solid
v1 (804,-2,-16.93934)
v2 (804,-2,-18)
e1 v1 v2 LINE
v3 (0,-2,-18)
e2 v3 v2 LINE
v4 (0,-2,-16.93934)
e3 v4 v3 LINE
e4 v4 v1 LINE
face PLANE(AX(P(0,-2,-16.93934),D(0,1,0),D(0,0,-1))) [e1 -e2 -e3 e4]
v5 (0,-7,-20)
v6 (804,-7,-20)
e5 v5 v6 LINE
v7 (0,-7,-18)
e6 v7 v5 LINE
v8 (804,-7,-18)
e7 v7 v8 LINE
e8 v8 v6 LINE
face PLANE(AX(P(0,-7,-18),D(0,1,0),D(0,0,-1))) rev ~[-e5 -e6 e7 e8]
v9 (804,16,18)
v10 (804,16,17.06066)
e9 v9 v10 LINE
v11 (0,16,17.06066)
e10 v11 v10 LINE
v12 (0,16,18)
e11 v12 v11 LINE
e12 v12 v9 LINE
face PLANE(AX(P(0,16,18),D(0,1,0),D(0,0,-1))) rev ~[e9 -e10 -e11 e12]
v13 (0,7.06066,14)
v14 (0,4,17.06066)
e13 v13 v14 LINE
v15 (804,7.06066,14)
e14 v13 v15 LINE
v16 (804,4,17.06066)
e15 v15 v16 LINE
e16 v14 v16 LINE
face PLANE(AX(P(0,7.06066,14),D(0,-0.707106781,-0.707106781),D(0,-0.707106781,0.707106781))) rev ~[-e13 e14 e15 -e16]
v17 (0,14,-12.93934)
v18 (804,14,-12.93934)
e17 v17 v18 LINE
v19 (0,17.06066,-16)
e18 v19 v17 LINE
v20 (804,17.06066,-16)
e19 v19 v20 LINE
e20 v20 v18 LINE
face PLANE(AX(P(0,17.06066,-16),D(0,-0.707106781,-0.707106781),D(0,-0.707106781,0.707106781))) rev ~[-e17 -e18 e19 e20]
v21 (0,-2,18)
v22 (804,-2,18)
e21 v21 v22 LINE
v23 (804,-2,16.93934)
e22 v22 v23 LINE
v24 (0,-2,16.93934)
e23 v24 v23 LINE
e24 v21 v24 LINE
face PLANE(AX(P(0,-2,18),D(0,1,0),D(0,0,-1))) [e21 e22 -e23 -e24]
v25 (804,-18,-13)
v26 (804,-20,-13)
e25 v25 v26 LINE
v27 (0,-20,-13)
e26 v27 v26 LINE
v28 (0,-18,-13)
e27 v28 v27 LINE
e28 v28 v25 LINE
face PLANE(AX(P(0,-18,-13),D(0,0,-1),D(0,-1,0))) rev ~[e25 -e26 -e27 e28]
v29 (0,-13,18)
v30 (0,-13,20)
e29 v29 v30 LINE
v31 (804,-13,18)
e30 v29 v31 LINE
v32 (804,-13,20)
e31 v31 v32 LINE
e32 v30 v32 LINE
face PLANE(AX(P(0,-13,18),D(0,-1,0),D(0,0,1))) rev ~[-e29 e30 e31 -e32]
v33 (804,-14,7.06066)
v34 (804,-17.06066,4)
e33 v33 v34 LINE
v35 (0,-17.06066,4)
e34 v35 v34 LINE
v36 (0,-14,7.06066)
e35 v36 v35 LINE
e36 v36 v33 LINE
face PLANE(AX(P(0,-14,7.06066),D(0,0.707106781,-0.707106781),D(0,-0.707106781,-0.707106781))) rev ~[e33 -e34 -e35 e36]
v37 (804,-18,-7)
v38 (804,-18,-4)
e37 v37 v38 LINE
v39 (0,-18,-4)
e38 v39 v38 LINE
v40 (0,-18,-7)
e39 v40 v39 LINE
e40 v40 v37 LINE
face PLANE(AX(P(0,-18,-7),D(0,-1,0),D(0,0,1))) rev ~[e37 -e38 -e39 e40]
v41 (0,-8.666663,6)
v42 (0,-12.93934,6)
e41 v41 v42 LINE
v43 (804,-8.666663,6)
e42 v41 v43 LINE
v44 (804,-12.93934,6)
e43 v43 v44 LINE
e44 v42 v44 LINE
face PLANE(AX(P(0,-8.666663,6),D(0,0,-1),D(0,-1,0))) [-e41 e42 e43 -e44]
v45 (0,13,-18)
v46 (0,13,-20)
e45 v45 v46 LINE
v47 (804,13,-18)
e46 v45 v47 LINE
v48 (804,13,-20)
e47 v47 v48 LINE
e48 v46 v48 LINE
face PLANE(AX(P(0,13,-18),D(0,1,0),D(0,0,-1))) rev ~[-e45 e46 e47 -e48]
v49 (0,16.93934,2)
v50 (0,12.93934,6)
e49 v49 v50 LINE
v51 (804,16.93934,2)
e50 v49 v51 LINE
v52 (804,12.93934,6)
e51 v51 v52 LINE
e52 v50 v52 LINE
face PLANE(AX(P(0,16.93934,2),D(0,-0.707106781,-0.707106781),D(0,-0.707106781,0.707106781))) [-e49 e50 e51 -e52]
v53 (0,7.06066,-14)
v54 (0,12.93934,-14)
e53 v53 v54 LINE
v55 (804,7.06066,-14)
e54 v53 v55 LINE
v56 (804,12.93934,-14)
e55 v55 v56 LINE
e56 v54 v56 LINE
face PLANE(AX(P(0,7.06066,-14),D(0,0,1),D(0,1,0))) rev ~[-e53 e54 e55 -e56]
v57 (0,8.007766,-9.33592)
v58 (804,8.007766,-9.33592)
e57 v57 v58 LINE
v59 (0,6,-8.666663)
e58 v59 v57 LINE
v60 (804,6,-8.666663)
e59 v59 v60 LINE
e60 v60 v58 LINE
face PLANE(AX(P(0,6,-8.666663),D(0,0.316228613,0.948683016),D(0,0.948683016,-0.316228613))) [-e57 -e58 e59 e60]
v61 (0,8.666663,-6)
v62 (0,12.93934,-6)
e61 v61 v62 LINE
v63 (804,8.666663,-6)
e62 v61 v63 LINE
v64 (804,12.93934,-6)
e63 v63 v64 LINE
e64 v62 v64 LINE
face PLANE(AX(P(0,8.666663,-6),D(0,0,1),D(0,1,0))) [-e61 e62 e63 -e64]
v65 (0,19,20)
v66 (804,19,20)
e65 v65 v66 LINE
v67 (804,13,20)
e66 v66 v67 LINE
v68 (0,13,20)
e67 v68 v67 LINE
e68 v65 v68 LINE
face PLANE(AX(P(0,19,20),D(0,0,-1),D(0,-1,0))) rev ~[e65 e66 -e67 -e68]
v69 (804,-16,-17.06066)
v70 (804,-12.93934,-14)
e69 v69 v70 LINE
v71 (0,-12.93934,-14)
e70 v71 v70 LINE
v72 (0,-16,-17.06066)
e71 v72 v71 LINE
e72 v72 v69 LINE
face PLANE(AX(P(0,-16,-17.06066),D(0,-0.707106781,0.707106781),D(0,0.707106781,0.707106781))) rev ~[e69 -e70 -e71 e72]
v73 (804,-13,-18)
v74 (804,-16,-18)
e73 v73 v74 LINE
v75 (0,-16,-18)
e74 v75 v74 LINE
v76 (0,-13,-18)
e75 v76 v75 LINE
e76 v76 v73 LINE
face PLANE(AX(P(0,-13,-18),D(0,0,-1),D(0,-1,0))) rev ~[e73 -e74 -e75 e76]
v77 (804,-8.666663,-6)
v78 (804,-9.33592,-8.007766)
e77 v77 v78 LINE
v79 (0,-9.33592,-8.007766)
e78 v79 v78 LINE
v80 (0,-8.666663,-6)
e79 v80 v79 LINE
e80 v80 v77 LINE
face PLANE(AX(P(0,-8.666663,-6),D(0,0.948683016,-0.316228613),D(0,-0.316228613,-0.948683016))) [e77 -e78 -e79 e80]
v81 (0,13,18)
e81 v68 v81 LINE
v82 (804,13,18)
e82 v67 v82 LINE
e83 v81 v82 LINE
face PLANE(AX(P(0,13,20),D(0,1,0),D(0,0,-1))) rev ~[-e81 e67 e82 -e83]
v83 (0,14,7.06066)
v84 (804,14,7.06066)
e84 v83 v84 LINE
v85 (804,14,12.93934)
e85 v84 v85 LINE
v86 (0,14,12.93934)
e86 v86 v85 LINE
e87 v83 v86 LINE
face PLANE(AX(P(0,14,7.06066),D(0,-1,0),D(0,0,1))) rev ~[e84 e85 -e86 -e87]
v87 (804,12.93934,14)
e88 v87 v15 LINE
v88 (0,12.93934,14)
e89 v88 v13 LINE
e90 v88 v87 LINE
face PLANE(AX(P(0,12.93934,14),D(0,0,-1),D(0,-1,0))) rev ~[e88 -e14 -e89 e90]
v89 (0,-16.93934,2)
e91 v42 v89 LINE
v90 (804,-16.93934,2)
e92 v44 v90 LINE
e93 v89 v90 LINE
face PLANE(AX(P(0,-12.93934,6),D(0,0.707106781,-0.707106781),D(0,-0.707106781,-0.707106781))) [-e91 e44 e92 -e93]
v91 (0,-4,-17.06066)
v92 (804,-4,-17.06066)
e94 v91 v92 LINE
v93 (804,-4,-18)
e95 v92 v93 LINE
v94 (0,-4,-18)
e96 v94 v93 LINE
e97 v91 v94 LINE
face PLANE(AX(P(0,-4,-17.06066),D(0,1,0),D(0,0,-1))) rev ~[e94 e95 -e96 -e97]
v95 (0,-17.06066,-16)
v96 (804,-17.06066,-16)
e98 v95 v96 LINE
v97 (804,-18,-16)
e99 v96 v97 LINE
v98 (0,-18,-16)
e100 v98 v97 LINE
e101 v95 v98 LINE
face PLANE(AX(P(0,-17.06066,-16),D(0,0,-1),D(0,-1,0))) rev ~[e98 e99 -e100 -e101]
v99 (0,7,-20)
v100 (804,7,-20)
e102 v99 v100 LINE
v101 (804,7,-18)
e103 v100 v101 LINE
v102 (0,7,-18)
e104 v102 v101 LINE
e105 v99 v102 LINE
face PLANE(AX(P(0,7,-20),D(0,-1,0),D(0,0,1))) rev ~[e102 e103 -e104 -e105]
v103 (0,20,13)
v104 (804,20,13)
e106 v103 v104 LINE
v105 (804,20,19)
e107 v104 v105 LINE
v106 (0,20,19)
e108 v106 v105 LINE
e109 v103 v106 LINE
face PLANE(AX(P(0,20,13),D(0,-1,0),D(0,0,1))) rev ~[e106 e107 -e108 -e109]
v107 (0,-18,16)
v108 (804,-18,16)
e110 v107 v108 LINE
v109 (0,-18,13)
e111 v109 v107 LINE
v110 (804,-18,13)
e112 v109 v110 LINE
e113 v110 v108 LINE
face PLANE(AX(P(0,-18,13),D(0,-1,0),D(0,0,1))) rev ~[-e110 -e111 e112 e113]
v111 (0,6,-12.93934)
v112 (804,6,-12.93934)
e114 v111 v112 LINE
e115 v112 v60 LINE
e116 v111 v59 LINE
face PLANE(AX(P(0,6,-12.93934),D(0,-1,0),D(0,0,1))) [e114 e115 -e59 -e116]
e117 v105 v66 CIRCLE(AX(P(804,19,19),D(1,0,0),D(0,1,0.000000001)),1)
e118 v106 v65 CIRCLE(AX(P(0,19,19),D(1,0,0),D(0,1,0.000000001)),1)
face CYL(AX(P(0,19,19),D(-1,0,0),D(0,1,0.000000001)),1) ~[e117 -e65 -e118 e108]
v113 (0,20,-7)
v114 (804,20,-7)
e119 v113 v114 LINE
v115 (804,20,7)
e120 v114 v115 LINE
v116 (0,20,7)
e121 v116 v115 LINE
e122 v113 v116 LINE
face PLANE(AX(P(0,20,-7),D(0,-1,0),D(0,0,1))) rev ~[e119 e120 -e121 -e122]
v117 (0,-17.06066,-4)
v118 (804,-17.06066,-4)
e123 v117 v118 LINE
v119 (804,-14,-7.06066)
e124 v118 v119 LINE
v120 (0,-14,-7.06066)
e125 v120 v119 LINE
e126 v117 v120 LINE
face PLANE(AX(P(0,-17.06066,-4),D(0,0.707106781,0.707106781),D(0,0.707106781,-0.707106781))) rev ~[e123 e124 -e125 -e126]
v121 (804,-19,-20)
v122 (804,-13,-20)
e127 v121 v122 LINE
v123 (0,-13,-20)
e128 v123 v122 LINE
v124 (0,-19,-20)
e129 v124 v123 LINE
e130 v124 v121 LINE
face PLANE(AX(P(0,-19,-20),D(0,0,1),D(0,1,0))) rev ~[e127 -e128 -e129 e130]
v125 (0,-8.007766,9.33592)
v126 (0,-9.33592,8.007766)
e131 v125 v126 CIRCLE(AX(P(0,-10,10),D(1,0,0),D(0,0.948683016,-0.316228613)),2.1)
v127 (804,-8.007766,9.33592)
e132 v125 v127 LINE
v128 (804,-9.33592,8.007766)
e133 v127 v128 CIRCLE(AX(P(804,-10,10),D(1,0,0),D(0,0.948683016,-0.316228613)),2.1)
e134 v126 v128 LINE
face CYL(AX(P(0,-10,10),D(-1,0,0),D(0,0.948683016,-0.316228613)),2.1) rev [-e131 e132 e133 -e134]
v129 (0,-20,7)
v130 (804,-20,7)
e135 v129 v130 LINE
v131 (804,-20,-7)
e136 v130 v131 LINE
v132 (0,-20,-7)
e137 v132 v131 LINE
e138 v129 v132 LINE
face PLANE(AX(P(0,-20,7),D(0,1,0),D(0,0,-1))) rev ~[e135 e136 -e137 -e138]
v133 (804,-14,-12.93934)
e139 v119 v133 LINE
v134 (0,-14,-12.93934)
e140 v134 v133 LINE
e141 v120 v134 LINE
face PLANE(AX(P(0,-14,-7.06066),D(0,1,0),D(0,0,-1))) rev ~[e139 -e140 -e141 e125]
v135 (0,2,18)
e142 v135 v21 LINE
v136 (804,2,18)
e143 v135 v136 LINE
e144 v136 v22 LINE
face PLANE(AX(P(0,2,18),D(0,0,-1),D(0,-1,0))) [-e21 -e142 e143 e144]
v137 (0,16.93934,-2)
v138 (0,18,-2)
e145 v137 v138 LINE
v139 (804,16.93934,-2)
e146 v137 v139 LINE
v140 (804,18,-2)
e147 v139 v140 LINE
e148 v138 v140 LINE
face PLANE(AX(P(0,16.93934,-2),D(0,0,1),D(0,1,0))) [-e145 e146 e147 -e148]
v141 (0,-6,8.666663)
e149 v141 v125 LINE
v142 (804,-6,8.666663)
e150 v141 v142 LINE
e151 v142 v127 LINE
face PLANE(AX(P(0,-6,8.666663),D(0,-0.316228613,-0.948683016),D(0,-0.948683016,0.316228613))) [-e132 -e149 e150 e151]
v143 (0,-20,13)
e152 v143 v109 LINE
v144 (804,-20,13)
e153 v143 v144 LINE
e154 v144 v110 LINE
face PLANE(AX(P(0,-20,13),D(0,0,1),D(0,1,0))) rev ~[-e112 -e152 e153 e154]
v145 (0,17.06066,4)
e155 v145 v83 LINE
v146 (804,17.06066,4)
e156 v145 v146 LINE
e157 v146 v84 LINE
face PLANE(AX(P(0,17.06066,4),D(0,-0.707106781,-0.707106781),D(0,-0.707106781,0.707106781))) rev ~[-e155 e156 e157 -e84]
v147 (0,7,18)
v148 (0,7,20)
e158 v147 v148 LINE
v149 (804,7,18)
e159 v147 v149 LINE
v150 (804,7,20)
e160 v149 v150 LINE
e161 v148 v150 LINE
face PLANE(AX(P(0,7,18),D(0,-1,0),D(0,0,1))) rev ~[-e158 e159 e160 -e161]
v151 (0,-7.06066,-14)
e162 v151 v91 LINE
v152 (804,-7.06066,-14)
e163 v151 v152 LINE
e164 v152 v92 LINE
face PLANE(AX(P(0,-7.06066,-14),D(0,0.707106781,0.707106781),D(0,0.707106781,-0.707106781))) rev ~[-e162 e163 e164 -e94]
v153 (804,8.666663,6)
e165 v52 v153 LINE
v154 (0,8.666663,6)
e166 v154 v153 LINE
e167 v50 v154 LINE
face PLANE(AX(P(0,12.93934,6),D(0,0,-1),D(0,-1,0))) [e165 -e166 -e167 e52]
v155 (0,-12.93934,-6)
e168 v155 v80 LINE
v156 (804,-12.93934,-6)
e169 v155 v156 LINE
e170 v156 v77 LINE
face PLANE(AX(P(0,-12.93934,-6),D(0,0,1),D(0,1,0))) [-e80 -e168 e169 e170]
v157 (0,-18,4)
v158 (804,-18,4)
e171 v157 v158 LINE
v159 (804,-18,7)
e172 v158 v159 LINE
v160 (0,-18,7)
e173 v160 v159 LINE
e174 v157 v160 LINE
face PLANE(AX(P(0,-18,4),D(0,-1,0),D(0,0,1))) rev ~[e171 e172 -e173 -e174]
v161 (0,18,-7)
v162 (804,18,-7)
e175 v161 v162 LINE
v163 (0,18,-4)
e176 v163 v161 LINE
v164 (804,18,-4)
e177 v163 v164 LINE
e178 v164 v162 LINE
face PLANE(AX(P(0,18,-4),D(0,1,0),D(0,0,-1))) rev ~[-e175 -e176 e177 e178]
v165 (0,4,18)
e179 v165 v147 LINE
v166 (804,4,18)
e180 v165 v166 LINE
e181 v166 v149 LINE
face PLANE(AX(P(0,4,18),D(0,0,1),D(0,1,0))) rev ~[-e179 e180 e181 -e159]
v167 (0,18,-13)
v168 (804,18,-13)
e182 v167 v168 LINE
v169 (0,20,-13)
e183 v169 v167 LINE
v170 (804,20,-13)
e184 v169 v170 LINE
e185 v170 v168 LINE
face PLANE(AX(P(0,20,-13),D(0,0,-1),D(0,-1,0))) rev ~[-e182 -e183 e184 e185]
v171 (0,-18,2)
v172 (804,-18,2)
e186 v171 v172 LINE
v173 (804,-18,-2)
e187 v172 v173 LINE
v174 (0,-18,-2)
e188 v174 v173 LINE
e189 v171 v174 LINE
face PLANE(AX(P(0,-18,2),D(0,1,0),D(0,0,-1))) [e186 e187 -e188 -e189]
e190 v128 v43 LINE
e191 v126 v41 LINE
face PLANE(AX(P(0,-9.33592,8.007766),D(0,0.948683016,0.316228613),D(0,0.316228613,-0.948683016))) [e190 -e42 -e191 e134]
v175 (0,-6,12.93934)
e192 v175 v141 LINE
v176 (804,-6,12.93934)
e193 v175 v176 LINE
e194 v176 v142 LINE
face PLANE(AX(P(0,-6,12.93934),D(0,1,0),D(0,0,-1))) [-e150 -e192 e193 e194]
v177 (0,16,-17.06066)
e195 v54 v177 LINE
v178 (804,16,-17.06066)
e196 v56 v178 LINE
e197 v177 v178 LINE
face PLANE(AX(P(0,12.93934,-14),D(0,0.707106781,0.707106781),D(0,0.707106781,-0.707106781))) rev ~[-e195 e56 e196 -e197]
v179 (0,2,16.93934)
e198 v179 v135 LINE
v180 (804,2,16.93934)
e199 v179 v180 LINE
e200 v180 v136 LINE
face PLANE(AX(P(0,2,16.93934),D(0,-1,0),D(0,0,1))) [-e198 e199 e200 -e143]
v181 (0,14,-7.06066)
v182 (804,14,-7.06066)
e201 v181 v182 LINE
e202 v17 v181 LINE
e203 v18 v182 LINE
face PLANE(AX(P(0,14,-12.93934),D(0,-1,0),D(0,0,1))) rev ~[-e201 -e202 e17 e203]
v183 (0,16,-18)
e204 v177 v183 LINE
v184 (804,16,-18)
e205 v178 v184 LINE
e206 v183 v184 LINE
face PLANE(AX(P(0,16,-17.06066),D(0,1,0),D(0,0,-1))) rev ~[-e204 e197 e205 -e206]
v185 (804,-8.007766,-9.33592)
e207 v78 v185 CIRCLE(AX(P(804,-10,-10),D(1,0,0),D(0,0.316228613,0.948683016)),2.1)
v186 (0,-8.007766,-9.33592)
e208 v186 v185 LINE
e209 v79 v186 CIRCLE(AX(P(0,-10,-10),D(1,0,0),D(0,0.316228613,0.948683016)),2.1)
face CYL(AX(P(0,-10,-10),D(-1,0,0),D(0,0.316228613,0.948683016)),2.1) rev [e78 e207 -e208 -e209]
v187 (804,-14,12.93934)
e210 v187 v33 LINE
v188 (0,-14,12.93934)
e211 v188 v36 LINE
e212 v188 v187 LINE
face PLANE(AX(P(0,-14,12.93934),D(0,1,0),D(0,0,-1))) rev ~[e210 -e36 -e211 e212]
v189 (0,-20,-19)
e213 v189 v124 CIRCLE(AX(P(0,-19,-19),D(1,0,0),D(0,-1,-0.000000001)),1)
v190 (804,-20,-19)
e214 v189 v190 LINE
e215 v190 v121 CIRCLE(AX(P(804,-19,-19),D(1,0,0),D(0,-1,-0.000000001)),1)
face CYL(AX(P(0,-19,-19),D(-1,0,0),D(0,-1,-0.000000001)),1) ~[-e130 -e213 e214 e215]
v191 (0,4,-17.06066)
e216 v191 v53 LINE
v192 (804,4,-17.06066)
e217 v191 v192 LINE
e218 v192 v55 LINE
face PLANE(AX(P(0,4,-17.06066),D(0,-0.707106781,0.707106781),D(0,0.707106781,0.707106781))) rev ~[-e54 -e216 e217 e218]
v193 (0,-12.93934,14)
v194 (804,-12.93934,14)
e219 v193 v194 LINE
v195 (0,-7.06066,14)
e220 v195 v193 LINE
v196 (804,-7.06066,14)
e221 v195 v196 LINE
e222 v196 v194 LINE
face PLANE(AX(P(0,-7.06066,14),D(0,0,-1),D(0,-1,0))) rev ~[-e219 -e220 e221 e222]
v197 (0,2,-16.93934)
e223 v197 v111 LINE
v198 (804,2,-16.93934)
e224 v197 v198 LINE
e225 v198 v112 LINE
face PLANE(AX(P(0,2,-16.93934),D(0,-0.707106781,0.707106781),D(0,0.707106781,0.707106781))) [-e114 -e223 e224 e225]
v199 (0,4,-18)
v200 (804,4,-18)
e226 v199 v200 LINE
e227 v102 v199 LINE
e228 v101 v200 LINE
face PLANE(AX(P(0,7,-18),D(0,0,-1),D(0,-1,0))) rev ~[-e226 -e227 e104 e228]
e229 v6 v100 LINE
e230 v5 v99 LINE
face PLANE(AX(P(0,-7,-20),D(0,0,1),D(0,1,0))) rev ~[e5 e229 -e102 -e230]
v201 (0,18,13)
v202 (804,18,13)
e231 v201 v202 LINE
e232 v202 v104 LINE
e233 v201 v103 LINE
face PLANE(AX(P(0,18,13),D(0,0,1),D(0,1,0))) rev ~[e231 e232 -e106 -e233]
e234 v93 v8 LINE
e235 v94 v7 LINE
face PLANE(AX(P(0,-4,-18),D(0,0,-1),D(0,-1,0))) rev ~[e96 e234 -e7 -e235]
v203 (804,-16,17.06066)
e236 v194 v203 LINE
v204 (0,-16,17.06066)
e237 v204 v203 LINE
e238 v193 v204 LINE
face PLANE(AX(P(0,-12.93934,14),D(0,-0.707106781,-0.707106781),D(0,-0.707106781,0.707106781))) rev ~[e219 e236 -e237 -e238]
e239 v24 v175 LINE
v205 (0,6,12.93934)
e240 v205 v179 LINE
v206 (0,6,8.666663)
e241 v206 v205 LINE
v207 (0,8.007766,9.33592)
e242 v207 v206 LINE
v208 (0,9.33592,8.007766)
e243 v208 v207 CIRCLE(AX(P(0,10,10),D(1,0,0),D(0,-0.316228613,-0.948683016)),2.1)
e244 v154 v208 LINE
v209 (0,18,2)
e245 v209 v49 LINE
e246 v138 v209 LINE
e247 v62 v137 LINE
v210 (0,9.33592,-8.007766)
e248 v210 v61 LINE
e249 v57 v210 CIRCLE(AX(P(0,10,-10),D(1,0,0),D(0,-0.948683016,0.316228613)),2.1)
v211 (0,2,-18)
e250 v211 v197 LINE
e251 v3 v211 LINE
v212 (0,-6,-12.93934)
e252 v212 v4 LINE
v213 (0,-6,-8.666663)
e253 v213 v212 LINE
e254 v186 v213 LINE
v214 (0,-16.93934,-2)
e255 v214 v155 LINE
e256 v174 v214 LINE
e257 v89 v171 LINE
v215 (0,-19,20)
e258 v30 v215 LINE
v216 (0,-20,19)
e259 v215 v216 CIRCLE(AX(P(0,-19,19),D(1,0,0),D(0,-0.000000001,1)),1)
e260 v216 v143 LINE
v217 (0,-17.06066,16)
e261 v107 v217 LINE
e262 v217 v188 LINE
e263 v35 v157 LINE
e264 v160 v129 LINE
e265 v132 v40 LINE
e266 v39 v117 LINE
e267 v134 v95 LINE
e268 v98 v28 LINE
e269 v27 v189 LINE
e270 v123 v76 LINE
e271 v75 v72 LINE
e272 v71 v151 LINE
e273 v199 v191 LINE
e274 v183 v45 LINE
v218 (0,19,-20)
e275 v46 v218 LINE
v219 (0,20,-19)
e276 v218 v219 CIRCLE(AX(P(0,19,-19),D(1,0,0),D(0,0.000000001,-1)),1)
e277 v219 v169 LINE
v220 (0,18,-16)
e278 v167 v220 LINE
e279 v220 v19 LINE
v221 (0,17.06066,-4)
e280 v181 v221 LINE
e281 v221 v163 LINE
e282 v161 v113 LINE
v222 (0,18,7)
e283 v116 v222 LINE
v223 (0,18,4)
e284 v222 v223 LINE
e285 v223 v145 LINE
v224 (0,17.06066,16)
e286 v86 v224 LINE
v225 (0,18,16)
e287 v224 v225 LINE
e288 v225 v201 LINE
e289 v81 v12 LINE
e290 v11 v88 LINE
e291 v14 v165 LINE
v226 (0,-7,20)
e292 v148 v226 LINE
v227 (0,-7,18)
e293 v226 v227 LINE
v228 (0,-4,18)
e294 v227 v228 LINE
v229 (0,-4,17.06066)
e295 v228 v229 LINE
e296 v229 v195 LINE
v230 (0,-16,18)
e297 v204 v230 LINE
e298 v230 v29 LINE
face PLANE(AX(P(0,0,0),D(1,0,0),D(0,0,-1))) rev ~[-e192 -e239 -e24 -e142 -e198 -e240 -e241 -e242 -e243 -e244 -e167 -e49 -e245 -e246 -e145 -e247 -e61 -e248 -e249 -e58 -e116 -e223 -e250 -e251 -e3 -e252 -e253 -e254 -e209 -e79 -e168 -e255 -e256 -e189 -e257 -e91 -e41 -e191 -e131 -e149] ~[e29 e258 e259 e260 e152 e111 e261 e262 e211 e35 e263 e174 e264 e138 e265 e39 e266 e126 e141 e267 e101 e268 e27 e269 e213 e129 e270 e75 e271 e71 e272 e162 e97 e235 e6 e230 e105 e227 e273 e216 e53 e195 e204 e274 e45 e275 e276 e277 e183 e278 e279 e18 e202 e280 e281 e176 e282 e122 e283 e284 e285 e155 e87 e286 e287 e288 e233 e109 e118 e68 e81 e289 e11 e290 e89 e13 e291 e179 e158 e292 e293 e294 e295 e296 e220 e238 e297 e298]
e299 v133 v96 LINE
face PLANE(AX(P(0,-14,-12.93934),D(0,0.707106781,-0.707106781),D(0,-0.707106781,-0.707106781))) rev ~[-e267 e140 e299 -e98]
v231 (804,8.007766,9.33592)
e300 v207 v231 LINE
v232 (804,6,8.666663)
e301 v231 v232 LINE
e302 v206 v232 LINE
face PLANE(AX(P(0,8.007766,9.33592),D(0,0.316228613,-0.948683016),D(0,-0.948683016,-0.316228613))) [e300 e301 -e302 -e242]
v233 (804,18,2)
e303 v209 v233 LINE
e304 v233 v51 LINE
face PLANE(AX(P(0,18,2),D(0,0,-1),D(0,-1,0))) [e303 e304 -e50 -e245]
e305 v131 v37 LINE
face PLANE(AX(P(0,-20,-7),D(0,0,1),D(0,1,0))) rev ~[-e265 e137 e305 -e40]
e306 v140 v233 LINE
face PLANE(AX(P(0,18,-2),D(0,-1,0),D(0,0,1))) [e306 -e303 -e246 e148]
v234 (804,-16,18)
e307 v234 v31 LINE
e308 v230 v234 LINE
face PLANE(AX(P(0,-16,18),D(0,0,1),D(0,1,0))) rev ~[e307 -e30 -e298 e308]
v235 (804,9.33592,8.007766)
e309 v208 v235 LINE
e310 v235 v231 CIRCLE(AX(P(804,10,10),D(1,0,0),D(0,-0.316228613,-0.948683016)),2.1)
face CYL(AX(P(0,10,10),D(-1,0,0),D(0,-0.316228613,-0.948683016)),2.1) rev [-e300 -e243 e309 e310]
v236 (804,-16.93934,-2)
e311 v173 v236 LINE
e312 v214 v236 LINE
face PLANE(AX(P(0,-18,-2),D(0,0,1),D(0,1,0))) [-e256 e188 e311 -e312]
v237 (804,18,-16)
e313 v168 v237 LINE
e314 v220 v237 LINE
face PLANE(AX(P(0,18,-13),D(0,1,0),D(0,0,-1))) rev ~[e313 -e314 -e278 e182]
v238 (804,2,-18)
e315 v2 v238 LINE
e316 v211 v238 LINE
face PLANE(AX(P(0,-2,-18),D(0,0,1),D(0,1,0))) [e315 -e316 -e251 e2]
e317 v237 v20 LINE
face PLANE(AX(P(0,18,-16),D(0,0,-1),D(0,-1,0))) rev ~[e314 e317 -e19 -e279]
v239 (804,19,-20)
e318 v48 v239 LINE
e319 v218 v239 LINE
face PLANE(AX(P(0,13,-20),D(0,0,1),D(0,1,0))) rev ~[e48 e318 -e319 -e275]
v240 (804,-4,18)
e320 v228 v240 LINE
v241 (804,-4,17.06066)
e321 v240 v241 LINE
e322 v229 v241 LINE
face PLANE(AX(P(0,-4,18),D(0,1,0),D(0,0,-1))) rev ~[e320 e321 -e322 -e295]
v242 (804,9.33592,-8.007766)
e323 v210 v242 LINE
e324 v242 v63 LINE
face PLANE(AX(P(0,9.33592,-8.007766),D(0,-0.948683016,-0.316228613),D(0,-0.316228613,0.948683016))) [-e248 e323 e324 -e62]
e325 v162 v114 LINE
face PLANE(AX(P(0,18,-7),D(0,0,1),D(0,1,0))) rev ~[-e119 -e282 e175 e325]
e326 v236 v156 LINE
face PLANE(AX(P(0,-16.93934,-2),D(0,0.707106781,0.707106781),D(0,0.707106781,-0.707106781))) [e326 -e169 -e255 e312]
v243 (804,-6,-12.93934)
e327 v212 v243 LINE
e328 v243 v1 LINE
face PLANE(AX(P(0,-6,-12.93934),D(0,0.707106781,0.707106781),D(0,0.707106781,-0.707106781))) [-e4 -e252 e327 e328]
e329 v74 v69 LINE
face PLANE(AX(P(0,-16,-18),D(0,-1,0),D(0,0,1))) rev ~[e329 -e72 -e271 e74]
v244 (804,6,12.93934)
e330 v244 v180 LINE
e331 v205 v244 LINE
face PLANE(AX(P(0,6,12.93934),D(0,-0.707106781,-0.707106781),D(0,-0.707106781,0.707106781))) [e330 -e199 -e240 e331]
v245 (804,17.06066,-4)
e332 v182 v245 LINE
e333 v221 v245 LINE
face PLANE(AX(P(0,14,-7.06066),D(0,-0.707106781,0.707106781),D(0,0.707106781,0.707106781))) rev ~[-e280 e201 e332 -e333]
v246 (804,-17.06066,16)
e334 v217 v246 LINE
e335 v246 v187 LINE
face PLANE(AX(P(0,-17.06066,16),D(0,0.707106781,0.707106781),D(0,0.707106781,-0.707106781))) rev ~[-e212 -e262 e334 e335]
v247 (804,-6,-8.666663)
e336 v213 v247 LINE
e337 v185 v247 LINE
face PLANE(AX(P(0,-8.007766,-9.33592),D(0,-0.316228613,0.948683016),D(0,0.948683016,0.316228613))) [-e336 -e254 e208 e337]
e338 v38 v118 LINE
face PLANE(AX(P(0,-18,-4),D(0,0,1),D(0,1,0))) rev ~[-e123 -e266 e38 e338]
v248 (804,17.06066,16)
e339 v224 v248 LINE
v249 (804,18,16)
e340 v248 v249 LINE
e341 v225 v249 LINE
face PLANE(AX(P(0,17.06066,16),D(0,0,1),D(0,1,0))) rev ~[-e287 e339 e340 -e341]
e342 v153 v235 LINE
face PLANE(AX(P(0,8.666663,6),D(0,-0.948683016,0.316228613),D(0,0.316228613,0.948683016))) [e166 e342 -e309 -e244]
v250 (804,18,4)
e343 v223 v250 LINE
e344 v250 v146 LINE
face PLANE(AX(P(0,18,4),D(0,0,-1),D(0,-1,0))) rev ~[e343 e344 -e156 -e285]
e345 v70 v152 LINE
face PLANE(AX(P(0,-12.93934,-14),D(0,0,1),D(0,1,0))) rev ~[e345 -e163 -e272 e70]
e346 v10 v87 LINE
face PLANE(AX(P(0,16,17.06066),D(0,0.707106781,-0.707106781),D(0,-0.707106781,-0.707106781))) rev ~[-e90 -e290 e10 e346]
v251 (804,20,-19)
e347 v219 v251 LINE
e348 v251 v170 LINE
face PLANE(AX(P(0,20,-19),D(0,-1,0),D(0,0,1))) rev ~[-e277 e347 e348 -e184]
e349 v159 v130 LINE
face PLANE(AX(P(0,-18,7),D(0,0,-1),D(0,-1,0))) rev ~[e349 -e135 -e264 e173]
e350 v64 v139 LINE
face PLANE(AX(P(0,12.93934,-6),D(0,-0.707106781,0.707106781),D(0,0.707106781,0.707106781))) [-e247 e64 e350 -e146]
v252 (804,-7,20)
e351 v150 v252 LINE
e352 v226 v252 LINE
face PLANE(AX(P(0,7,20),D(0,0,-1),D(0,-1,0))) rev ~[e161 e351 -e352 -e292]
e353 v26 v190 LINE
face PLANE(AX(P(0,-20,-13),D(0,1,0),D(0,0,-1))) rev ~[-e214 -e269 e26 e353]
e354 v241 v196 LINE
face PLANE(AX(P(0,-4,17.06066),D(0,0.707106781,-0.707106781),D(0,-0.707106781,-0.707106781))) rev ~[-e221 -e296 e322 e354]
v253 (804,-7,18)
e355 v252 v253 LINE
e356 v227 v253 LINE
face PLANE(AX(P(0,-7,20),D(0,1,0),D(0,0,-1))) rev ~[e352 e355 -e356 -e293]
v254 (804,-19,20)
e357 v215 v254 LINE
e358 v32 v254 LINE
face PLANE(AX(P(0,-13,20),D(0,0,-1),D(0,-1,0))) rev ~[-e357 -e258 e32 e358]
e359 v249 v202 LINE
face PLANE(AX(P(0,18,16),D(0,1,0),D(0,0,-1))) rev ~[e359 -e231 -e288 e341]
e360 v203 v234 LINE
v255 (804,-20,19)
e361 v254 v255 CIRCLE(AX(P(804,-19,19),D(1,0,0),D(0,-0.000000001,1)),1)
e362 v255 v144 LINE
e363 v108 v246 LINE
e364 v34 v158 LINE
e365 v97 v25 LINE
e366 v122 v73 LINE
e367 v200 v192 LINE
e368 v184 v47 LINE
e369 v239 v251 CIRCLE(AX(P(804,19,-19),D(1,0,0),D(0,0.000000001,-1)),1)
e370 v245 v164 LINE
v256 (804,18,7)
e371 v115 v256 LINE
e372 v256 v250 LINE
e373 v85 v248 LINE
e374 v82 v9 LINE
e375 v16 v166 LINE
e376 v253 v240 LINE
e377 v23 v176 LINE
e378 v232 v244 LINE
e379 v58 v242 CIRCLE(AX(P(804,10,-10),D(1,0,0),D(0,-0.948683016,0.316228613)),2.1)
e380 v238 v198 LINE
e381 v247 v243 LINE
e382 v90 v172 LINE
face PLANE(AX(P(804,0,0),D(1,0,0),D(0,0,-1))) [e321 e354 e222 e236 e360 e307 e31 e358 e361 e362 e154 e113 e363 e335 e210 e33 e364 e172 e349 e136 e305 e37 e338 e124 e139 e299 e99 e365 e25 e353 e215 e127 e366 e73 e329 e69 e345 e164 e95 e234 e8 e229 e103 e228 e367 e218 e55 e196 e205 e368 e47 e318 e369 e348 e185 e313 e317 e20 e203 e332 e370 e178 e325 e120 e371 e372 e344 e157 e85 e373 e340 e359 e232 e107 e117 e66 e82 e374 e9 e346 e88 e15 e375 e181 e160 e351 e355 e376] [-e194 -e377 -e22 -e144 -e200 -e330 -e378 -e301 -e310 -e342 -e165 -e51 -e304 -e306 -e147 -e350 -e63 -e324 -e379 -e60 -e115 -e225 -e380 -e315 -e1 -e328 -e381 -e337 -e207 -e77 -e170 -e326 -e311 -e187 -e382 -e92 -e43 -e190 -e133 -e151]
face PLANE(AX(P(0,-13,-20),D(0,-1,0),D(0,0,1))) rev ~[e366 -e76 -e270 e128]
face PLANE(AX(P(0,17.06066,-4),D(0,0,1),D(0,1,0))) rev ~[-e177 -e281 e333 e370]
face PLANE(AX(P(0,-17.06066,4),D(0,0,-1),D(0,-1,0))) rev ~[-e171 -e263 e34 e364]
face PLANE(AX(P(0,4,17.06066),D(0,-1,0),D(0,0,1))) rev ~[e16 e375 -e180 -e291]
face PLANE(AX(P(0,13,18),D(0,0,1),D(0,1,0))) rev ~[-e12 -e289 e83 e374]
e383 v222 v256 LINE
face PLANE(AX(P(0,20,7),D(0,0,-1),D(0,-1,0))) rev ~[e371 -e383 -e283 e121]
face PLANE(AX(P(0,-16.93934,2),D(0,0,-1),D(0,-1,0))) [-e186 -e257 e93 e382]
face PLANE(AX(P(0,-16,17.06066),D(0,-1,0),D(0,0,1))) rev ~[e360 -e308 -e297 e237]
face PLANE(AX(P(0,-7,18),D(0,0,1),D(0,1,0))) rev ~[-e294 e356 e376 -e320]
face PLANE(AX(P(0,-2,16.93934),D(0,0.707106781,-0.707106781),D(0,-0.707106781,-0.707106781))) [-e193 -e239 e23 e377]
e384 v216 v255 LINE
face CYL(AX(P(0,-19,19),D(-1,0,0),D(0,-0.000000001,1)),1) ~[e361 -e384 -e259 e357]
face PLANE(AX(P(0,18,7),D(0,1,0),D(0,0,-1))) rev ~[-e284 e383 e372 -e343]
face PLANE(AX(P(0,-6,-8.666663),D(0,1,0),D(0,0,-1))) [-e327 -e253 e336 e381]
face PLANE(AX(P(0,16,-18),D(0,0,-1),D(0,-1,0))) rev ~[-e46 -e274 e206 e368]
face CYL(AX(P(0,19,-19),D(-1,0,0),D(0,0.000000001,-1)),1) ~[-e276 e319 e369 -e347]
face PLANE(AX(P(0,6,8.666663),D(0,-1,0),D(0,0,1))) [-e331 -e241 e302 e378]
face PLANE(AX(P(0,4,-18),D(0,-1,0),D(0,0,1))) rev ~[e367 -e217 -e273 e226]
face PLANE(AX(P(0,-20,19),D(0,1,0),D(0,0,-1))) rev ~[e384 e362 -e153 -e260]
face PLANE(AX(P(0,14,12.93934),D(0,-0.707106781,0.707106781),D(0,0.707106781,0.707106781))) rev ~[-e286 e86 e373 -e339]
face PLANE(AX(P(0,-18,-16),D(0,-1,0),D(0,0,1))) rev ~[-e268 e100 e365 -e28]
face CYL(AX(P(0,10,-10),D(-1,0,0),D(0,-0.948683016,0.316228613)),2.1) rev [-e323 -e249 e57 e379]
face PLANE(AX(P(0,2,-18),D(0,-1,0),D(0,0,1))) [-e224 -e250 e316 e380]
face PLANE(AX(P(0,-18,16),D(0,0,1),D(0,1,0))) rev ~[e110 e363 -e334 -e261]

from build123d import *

# Parameters (mm, degrees)
BOSS_EXTRUDE1_DEPTH = 804


with BuildPart() as part:
    # Sketch1 → Boss-Extrude1 (new body)
    with BuildSketch(Plane(origin=(0, 0, 0), x_dir=(0, 0, -1), z_dir=(1, 0, 0))):
        with BuildLine():
            Line((-20, 19), (-20, 13))
            Line((-20, 13), (-18, 13))
            Line((-18, 13), (-18, 16))
            Line((-18, 16), (-17.060660172, 16))
            Line((-17.060660172, 16), (-14, 12.939339828))
            Line((-14, 12.939339828), (-14, 7.060660172))
            Line((-14, 7.060660172), (-17.060660172, 4))
            Line((-17.060660172, 4), (-18, 4))
            Line((-18, 4), (-18, 7))
            Line((-18, 7), (-20, 7))
            Line((-20, 7), (-20, -7))
            Line((-20, -7), (-18, -7))
            Line((-18, -7), (-18, -4))
            Line((-18, -4), (-17.060660172, -4))
            Line((-17.060660172, -4), (-14, -7.060660172))
            Line((-14, -7.060660172), (-14, -12.939339828))
            Line((-14, -12.939339828), (-17.060660172, -16))
            Line((-17.060660172, -16), (-18, -16))
            Line((-18, -16), (-18, -13))
            Line((-18, -13), (-20, -13))
            Line((-20, -13), (-20, -19))
            ThreePointArc((-20, -19), (-19.707106781, -19.707106781), (-19, -20))
            Line((-19, -20), (-13, -20))
            Line((-13, -20), (-13, -18))
            Line((-13, -18), (-16, -18))
            Line((-16, -18), (-16, -17.060660172))
            Line((-16, -17.060660172), (-12.939339828, -14))
            Line((-12.939339828, -14), (-7.060660172, -14))
            Line((-7.060660172, -14), (-4, -17.060660172))
            Line((-4, -17.060660172), (-4, -18))
            Line((-4, -18), (-7, -18))
            Line((-7, -18), (-7, -20))
            Line((-7, -20), (7, -20))
            Line((7, -20), (7, -18))
            Line((7, -18), (4, -18))
            Line((4, -18), (4, -17.060660172))
            Line((4, -17.060660172), (7.060660172, -14))
            Line((7.060660172, -14), (12.939339828, -14))
            Line((12.939339828, -14), (16, -17.060660172))
            Line((16, -17.060660172), (16, -18))
            Line((16, -18), (13, -18))
            Line((13, -18), (13, -20))
            Line((13, -20), (19, -20))
            ThreePointArc((19, -20), (19.707106781, -19.707106781), (20, -19))
            Line((20, -19), (20, -13))
            Line((20, -13), (18, -13))
            Line((18, -13), (18, -16))
            Line((18, -16), (17.060660172, -16))
            Line((17.060660172, -16), (14, -12.939339828))
            Line((14, -12.939339828), (14, -7.060660172))
            Line((14, -7.060660172), (17.060660172, -4))
            Line((17.060660172, -4), (18, -4))
            Line((18, -4), (18, -7))
            Line((18, -7), (20, -7))
            Line((20, -7), (20, 7))
            Line((20, 7), (18, 7))
            Line((18, 7), (18, 4))
            Line((18, 4), (17.060660172, 4))
            Line((17.060660172, 4), (14, 7.060660172))
            Line((14, 7.060660172), (14, 12.939339828))
            Line((14, 12.939339828), (17.060660172, 16))
            Line((17.060660172, 16), (18, 16))
            Line((18, 16), (18, 13))
            Line((18, 13), (20, 13))
            Line((20, 13), (20, 19))
            ThreePointArc((20, 19), (19.707106781, 19.707106781), (19, 20))
            Line((19, 20), (13, 20))
            Line((13, 20), (13, 18))
            Line((13, 18), (16, 18))
            Line((16, 18), (16, 17.060660172))
            Line((16, 17.060660172), (12.939339828, 14))
            Line((12.939339828, 14), (7.060660172, 14))
            Line((7.060660172, 14), (4, 17.060660172))
            Line((4, 17.060660172), (4, 18))
            Line((4, 18), (7, 18))
            Line((7, 18), (7, 20))
            Line((7, 20), (-7, 20))
            Line((-7, 20), (-7, 18))
            Line((-7, 18), (-4, 18))
            Line((-4, 18), (-4, 17.060660172))
            Line((-4, 17.060660172), (-7.060660172, 14))
            Line((-7.060660172, 14), (-12.939339828, 14))
            Line((-12.939339828, 14), (-16, 17.060660172))
            Line((-16, 17.060660172), (-16, 18))
            Line((-16, 18), (-13, 18))
            Line((-13, 18), (-13, 20))
            Line((-13, 20), (-19, 20))
            ThreePointArc((-19, 20), (-19.707106781, 19.707106781), (-20, 19))
        make_face()
        with BuildLine():
            Line((-16.939339828, 2), (-18, 2))
            Line((-18, 2), (-18, -2))
            Line((-18, -2), (-16.939339828, -2))
            Line((-16.939339828, -2), (-12.939339828, -6))
            Line((-12.939339828, -6), (-8.666662697, -6))
            Line((-8.666662697, -6), (-9.335919912, -8.007765667))
            ThreePointArc((-9.335919912, -8.007765667), (-11.48492424, -11.48492424), (-8.007765667, -9.335919912))
            Line((-8.007765667, -9.335919912), (-6, -8.666662697))
            Line((-6, -8.666662697), (-6, -12.939339828))
            Line((-6, -12.939339828), (-2, -16.939339828))
            Line((-2, -16.939339828), (-2, -18))
            Line((-2, -18), (2, -18))
            Line((2, -18), (2, -16.939339828))
            Line((2, -16.939339828), (6, -12.939339828))
            Line((6, -12.939339828), (6, -8.666662697))
            Line((6, -8.666662697), (8.007765667, -9.335919912))
            ThreePointArc((8.007765667, -9.335919912), (11.48492424, -11.48492424), (9.335919912, -8.007765667))
            Line((9.335919912, -8.007765667), (8.666662697, -6))
            Line((8.666662697, -6), (12.939339828, -6))
            Line((12.939339828, -6), (16.939339828, -2))
            Line((16.939339828, -2), (18, -2))
            Line((18, -2), (18, 2))
            Line((18, 2), (16.939339828, 2))
            Line((16.939339828, 2), (12.939339828, 6))
            Line((12.939339828, 6), (8.666662697, 6))
            Line((8.666662697, 6), (9.335919912, 8.007765667))
            ThreePointArc((9.335919912, 8.007765667), (11.48492424, 11.48492424), (8.007765667, 9.335919912))
            Line((8.007765667, 9.335919912), (6, 8.666662697))
            Line((6, 8.666662697), (6, 12.939339828))
            Line((6, 12.939339828), (2, 16.939339828))
            Line((2, 16.939339828), (2, 18))
            Line((2, 18), (-2, 18))
            Line((-2, 18), (-2, 16.939339828))
            Line((-2, 16.939339828), (-6, 12.939339828))
            Line((-6, 12.939339828), (-6, 8.666662697))
            Line((-6, 8.666662697), (-8.007765667, 9.335919912))
            ThreePointArc((-8.007765667, 9.335919912), (-11.48492424, 11.48492424), (-9.335919912, 8.007765667))
            Line((-9.335919912, 8.007765667), (-8.666662697, 6))
            Line((-8.666662697, 6), (-12.939339828, 6))
            Line((-12.939339828, 6), (-16.939339828, 2))
        make_face(mode=Mode.SUBTRACT)
    extrude(amount=BOSS_EXTRUDE1_DEPTH)


solid = part.part
